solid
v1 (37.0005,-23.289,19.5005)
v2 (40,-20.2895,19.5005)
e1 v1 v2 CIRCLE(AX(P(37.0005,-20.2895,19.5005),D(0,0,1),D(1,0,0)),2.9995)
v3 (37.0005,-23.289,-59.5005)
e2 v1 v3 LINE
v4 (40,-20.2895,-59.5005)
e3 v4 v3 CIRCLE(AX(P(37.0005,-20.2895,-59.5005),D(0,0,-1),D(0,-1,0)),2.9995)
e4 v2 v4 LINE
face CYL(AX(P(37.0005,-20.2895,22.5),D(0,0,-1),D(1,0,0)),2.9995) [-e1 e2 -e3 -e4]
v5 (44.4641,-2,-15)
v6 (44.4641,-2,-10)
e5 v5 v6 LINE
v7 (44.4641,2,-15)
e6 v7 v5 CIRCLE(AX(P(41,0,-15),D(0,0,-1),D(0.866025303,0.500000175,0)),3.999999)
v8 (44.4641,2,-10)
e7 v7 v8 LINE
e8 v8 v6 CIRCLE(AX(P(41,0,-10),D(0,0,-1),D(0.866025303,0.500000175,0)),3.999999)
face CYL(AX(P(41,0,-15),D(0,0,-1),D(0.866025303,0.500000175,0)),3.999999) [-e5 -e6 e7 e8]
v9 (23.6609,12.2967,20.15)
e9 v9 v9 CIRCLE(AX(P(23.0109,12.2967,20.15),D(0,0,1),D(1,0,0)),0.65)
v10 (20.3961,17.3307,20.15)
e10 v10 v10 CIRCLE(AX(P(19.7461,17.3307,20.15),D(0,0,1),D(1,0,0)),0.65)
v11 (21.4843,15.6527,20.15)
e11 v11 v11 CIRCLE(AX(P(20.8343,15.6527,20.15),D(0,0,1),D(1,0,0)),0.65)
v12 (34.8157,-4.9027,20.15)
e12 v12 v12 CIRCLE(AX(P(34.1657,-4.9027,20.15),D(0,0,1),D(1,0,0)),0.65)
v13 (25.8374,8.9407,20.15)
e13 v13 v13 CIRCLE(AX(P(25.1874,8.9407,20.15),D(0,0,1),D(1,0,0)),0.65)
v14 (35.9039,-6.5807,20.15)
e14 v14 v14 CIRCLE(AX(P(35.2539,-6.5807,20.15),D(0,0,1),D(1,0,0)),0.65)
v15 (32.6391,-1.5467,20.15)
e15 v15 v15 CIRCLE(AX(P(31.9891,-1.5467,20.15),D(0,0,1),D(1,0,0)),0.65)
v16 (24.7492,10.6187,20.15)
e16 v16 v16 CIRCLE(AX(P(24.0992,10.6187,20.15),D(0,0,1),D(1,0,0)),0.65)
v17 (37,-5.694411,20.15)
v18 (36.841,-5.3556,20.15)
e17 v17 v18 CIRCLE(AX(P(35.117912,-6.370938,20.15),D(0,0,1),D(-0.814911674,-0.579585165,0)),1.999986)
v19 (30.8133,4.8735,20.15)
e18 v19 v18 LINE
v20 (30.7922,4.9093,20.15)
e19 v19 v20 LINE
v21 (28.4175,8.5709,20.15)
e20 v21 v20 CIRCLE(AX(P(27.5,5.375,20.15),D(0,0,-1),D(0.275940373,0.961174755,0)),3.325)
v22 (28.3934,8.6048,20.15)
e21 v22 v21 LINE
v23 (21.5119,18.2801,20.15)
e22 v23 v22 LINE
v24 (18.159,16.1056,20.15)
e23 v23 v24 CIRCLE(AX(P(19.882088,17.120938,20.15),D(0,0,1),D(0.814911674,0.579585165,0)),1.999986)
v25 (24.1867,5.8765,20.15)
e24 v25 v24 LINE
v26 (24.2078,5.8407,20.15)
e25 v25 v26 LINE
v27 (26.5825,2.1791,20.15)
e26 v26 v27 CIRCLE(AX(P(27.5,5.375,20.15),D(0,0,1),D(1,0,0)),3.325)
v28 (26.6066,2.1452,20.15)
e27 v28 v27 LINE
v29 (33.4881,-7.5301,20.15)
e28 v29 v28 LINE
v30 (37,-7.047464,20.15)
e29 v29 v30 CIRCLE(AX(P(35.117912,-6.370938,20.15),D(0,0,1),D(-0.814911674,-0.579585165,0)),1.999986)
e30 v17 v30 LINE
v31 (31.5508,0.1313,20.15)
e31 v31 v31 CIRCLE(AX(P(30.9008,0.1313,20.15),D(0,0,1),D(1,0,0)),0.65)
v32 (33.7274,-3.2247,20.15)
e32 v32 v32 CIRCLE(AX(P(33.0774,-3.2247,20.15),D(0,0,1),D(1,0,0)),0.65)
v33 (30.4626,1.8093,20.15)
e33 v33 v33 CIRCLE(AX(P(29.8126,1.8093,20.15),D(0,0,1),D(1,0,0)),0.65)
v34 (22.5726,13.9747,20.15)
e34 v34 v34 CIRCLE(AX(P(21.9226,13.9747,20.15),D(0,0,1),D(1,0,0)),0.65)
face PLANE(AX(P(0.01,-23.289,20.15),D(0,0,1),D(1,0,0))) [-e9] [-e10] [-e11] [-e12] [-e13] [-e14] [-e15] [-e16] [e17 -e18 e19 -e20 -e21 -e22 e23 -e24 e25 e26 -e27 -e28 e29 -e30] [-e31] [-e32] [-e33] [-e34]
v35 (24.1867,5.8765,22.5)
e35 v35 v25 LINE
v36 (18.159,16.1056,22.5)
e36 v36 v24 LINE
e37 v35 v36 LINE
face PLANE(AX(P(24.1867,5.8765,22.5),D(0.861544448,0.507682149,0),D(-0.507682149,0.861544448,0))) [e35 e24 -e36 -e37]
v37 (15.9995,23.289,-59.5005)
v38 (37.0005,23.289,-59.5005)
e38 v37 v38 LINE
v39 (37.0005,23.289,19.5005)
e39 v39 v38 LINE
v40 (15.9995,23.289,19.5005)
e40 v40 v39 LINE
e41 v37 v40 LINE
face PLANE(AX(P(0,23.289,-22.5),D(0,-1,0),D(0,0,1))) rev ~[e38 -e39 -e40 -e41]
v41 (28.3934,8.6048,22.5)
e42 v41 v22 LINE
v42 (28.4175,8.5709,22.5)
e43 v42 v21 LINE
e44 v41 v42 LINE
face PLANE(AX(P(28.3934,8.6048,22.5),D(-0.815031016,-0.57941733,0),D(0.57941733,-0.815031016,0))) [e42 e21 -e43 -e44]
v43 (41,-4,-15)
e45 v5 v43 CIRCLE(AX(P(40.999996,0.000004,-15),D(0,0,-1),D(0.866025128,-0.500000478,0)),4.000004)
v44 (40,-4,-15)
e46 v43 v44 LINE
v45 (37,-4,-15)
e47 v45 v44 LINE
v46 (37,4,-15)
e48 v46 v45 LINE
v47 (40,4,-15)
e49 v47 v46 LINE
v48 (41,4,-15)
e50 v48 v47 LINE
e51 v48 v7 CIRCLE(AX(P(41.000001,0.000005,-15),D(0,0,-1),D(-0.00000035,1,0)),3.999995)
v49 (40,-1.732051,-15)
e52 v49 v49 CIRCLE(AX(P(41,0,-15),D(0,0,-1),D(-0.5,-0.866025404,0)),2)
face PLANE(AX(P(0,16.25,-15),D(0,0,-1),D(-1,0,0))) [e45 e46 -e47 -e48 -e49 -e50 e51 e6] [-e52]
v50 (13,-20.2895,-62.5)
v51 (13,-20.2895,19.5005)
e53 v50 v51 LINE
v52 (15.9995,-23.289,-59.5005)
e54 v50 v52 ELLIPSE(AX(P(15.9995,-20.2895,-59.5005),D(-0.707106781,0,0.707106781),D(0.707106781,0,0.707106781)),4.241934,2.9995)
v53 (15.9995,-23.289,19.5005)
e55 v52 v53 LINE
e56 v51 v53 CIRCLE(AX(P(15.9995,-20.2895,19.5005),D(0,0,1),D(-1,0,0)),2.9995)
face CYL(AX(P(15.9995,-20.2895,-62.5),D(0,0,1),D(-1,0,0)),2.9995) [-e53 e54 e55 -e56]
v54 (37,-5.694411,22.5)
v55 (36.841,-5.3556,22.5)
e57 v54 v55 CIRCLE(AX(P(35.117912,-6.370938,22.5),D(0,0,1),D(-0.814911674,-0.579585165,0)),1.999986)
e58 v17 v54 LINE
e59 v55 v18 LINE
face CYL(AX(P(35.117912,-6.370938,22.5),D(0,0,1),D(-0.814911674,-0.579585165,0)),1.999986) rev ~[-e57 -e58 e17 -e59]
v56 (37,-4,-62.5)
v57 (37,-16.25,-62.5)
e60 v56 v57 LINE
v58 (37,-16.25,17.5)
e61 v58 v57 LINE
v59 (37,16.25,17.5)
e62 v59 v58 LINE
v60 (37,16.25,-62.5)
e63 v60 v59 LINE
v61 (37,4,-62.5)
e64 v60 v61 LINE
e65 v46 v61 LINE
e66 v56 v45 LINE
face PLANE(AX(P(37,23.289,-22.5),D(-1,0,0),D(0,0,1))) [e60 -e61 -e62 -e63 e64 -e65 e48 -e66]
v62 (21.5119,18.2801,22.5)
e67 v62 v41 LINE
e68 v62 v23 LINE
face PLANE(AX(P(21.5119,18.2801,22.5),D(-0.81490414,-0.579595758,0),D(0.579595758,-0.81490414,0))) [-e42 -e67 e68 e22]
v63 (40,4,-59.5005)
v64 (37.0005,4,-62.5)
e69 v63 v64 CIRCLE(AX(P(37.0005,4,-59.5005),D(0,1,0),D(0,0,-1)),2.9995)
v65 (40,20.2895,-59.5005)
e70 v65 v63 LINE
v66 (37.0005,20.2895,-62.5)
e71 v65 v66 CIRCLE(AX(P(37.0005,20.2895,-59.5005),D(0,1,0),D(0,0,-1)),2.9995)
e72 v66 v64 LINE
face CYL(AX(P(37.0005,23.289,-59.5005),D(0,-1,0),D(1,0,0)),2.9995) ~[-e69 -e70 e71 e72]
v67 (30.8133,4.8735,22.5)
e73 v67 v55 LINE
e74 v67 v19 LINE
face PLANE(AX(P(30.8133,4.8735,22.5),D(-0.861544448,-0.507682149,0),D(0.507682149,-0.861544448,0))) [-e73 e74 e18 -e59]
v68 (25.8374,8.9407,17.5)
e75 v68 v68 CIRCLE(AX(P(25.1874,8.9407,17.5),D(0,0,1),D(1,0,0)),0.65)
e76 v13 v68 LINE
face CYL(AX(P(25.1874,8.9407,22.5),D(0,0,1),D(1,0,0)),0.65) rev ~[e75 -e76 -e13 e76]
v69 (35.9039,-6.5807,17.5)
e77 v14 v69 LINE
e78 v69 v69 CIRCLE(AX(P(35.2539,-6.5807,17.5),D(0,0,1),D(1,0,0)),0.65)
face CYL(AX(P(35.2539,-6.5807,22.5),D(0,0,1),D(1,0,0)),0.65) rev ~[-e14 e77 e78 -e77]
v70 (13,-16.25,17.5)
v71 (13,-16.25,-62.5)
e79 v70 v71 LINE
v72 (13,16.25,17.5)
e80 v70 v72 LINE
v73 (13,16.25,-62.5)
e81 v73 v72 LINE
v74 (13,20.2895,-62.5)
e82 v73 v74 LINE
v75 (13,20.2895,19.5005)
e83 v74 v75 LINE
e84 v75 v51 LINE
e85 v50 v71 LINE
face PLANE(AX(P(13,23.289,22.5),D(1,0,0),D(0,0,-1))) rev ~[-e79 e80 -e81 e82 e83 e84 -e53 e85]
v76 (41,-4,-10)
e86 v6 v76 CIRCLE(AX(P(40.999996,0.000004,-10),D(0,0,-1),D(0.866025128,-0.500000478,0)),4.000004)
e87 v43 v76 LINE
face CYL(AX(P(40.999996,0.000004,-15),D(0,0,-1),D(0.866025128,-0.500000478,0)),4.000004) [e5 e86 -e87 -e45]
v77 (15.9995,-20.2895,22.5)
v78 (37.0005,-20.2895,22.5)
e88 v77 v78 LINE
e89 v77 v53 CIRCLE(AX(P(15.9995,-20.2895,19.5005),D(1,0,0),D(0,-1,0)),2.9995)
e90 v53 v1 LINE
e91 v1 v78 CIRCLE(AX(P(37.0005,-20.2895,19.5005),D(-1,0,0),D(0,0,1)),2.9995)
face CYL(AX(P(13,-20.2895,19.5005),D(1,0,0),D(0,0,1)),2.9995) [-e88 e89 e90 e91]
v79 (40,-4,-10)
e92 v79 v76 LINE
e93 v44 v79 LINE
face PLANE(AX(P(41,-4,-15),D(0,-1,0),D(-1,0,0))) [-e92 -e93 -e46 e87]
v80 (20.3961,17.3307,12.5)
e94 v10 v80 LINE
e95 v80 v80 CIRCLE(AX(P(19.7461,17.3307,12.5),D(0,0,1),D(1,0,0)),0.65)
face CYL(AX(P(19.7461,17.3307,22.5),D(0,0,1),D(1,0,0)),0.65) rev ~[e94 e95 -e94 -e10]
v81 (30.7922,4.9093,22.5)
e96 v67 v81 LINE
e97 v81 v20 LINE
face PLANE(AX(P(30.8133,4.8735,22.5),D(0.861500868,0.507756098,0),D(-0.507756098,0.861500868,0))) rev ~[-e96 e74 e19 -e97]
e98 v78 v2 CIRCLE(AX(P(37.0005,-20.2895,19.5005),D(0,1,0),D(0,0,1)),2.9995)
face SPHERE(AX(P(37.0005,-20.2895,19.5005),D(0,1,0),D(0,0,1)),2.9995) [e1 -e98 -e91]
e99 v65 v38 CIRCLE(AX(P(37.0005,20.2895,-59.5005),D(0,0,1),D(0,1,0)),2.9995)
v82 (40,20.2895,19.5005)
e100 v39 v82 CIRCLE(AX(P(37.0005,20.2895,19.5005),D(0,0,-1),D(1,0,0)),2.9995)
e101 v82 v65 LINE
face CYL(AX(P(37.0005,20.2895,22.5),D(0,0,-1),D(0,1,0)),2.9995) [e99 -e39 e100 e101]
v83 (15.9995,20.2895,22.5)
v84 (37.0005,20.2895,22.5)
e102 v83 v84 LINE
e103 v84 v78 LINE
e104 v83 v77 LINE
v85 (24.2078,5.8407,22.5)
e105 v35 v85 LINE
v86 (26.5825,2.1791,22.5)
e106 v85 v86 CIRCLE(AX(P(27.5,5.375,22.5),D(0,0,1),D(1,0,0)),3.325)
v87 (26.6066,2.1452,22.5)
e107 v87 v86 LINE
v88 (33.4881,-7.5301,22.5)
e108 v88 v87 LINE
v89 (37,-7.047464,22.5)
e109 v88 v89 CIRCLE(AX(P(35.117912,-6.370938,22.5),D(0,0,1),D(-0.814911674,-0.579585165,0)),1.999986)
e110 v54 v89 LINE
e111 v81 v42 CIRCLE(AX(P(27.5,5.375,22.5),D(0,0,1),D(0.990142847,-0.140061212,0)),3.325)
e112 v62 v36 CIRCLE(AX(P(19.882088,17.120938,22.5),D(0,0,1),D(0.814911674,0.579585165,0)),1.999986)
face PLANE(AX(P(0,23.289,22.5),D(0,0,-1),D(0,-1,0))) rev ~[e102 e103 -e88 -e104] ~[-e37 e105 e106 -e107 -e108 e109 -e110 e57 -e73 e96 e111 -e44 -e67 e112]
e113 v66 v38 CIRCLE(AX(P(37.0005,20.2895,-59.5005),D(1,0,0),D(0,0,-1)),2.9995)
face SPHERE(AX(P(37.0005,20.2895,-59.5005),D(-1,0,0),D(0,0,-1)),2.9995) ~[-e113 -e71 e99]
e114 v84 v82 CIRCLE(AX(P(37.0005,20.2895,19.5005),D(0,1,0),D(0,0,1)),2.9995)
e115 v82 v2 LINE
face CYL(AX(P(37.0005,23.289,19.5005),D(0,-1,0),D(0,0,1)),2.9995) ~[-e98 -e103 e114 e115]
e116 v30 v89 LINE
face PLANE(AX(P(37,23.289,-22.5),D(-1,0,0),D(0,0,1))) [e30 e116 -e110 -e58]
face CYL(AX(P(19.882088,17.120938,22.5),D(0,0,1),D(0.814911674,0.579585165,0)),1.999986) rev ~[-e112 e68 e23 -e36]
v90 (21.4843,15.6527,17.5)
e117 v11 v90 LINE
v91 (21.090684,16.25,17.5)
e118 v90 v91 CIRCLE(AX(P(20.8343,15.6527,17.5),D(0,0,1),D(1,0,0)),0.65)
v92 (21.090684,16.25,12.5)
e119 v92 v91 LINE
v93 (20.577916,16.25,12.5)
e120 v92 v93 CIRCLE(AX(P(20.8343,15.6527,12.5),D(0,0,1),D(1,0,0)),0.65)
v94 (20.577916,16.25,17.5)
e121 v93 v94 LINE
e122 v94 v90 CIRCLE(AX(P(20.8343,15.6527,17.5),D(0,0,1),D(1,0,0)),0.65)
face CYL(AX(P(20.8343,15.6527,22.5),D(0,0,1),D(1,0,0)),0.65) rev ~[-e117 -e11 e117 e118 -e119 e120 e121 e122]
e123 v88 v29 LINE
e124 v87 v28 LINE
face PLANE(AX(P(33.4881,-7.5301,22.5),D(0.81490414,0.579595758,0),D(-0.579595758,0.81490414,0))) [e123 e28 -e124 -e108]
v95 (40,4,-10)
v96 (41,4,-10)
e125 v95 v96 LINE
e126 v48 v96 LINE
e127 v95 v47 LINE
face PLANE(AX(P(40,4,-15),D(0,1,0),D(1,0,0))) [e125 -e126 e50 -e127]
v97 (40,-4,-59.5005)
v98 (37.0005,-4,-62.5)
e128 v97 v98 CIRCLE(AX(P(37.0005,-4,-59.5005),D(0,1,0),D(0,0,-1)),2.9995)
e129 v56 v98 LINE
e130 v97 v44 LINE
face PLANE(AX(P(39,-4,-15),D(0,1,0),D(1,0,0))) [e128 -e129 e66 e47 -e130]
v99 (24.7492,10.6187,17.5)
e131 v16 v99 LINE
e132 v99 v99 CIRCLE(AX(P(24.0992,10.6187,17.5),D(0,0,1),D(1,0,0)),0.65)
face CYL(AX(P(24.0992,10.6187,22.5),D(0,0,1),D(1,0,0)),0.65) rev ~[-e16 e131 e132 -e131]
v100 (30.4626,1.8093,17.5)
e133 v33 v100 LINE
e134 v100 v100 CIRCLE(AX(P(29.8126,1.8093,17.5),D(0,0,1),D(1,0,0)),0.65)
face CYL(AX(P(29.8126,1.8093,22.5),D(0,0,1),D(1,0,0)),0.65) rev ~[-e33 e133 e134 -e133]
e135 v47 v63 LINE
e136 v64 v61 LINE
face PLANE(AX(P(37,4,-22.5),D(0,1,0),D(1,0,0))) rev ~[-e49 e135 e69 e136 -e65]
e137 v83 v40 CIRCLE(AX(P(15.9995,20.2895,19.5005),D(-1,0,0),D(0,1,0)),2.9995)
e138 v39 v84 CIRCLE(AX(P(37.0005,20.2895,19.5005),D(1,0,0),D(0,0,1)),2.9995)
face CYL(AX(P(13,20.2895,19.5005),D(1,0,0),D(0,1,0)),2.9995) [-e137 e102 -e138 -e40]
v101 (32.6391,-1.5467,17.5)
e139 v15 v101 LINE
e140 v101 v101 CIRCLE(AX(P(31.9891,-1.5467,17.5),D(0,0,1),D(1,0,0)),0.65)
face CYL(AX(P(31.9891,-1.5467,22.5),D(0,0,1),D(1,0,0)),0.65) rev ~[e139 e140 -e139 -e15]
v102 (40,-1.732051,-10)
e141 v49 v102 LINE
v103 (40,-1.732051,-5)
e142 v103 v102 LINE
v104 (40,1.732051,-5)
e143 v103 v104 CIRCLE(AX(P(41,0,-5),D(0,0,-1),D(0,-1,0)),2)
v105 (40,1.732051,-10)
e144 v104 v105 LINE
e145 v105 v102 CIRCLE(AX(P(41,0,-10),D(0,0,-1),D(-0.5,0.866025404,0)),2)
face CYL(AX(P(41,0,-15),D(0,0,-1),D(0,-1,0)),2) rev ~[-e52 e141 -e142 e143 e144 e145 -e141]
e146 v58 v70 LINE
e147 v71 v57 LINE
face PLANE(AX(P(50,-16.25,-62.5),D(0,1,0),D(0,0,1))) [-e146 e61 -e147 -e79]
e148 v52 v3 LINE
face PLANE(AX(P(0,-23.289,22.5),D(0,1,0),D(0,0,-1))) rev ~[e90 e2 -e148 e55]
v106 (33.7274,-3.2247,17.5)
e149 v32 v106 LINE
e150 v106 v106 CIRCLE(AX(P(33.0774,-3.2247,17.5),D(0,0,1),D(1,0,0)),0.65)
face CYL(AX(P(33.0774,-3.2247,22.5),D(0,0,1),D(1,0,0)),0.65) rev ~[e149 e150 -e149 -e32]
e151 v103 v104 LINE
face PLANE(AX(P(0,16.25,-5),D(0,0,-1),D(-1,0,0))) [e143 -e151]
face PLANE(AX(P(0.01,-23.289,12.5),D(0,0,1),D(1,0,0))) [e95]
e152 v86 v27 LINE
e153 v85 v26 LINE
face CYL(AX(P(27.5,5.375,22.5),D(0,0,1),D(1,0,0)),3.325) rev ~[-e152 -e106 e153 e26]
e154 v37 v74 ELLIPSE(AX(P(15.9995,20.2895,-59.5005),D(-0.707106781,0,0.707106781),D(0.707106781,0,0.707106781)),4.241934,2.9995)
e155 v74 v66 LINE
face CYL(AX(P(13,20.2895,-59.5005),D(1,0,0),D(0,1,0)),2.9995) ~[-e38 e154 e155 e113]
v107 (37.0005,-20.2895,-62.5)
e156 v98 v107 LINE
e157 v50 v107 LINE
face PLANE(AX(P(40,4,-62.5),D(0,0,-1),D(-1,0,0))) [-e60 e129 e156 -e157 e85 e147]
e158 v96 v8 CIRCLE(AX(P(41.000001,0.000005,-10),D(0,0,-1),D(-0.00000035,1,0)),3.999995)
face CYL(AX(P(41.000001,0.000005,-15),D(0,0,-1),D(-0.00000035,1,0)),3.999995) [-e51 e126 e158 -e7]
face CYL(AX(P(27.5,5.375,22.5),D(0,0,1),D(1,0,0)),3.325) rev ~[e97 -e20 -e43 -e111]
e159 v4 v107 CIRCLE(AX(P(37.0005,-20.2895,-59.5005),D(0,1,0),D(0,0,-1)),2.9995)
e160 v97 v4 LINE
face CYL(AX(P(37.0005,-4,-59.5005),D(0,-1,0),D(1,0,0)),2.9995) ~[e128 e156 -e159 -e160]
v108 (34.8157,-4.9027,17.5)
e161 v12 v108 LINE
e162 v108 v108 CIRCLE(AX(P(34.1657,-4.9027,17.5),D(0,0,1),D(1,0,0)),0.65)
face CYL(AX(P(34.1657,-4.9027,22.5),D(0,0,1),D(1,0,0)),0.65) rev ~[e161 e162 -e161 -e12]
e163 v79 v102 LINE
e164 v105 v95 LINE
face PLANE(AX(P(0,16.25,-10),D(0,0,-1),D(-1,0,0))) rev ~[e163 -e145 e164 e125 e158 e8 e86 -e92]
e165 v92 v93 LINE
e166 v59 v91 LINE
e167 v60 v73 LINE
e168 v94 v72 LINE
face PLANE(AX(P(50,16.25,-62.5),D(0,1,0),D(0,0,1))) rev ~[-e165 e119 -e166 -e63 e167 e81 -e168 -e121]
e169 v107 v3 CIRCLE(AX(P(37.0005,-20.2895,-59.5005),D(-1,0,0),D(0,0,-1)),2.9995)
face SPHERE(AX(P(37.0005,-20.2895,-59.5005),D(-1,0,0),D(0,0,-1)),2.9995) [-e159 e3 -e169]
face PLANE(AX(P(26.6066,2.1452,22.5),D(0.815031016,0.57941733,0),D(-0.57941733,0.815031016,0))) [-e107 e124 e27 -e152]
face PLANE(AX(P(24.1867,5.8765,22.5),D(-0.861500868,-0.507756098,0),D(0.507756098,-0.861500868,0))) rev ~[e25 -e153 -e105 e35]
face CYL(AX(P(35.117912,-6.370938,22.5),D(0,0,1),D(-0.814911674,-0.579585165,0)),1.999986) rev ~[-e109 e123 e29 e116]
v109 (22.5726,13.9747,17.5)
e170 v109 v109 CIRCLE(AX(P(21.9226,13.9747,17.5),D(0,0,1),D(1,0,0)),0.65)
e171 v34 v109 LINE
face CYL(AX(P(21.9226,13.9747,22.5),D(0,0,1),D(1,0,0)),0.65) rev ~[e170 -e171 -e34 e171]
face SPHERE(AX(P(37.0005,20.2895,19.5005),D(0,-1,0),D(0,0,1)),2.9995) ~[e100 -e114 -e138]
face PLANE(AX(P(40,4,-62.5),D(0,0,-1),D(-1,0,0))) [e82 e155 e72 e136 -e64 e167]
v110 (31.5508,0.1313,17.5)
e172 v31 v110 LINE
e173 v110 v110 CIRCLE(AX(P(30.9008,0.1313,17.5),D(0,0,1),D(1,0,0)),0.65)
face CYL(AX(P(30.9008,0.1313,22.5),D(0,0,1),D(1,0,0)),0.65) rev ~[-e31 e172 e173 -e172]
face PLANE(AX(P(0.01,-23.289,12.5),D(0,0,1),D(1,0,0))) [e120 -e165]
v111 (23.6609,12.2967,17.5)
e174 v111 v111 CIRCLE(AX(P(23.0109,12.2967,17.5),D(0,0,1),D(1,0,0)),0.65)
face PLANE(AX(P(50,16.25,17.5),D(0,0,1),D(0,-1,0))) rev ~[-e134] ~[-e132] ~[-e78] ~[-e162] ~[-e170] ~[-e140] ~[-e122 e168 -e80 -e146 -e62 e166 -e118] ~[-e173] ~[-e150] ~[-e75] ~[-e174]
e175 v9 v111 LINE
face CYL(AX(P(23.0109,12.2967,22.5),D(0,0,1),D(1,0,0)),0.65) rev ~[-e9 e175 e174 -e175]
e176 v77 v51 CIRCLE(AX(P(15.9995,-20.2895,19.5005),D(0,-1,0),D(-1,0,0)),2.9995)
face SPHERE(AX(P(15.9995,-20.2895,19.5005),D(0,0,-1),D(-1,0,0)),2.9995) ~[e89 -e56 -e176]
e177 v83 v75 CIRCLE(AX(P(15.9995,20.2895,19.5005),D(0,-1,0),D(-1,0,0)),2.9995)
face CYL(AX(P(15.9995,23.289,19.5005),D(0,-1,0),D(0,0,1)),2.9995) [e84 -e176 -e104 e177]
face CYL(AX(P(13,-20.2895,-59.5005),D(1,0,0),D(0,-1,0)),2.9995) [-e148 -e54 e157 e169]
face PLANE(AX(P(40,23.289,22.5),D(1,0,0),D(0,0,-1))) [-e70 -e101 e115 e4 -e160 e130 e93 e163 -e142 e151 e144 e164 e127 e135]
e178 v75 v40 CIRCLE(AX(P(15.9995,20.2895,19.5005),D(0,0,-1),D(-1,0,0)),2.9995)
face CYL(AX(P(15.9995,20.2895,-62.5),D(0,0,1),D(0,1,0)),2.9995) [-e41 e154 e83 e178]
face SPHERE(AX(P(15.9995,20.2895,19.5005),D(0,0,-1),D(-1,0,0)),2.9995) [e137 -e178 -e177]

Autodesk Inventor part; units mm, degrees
ref_plane "YZ Plane" through (0, 0, 0) normal (1, 0, 0) x (0, 1, 0)
ref_plane "XZ Plane" through (0, 0, 0) normal (0, 1, 0) x (-1, 0, 0)
sketch "Sketch1" plane through (0, 0, 0) normal (1, 0, 0) x (0, 1, 0)
  line L0 (23.289, 22.5) -> (-23.289, 22.5)
  line L1 (-23.289, 22.5) -> (-23.289, -22.5)
  line L2 (-23.289, -22.5) -> (23.289, -22.5)
  line L3 (23.289, -22.5) -> (23.289, 22.5)
  line L4 (23.289, 22.5) -> (-23.289, -22.5) construction
  line L5 (-23.289, 22.5) -> (23.289, -22.5) construction
  point P0 (0, 0)
  dimension "d0" = 45
  dimension "d1" = 46.578
extrude "Extrusion1" add sketch "Sketch1" along normal blind 50
fillet "Fillet1" radius 0.01 2 edges at (50, 0, 22.5) (0, 0, 22.5)
sketch "Sketch2" plane through (0.01, -23.289, 22.5) normal (0, 0, 1) x (1, 0, 0)
  arc A0 (21.5019, 41.5691) -> (18.149, 39.3946) centre (19.8721, 40.41) ccw projected
  line L0 (24.1767, 29.1655) -> (18.149, 39.3946) projected
  circle A1 centre (19.7361, 40.6197) radius 0.65 projected
  circle A2 centre (20.8243, 38.9417) radius 0.65 projected
  line L1 (21.5019, 41.5691) -> (28.3834, 31.8938) projected
  circle A3 centre (21.9126, 37.2637) radius 0.65 projected
  circle A4 centre (23.0009, 35.5857) radius 0.65 projected
  circle A5 centre (24.0892, 33.9077) radius 0.65 projected
  circle A6 centre (25.1774, 32.2297) radius 0.65 projected
  circle A7 centre (29.8026, 25.0983) radius 0.65 projected
  circle A8 centre (27.49, 28.664) radius 3.325 projected
  line L2 (33.4781, 15.7589) -> (26.5966, 25.4342) projected
  arc A9 (33.4781, 15.7589) -> (36.831, 17.9334) centre (35.1079, 16.918) ccw projected
  line L3 (30.8033, 28.1625) -> (36.831, 17.9334) projected
  circle A10 centre (30.8908, 23.4203) radius 0.65 projected
  circle A11 centre (31.9791, 21.7423) radius 0.65 projected
  circle A12 centre (33.0674, 20.0643) radius 0.65 projected
  circle A13 centre (34.1557, 18.3863) radius 0.65 projected
  circle A14 centre (35.2439, 16.7083) radius 0.65 projected
  line L4 (24.1767, 29.1655) -> (24.1978, 29.1297)
  line L5 (30.8033, 28.1625) -> (30.7822, 28.1983)
  line L6 (26.5966, 25.4342) -> (26.5725, 25.4681)
  line L7 (28.3834, 31.8938) -> (28.4075, 31.8599)
  point P0 (-0.01, 23.289)
extrude "Extrusion2" cut sketch "Sketch2" against normal blind 2.35 contours L1 L7 A8 L4 L0 A0 | A8 | A8 L5 L3 A9 L2 L6 | A1 | A2 | A3 | A4 | A5 | A6 | A7 | A10 | A11 | A12 | A13 | A14
sketch "Sketch3" plane through (0.01, -23.289, 22.5) normal (0, 0, 1) x (1, 0, 0)
  circle A0 centre (20.8243, 38.9417) radius 0.65 projected
  circle A1 centre (19.7361, 40.6197) radius 0.65 projected
  circle A2 centre (21.9126, 37.2637) radius 0.65 projected
  circle A3 centre (23.0009, 35.5857) radius 0.65 projected
  circle A4 centre (24.0892, 33.9077) radius 0.65 projected
  circle A5 centre (25.1774, 32.2297) radius 0.65 projected
  circle A6 centre (29.8026, 25.0983) radius 0.65 projected
  circle A7 centre (30.8908, 23.4203) radius 0.65 projected
  circle A8 centre (31.9791, 21.7423) radius 0.65 projected
  circle A9 centre (33.0674, 20.0643) radius 0.65 projected
  circle A10 centre (34.1557, 18.3863) radius 0.65 projected
  circle A11 centre (35.2439, 16.7083) radius 0.65 projected
  point P0 (-0.01, 23.289)
extrude "Extrusion3" cut sketch "Sketch3" against normal blind 10
sketch "Sketch4" plane through (50, 0, 0) normal (1, 0, 0) x (0, 0, -1)
  line L0 (30, 4) -> (30, -4) projected
  line L1 (30, -4) -> (15, -4) projected
  line L2 (15, -4) -> (15, 4) projected
  line L3 (15, 4) -> (30, 4) projected
  line L4 (62.5, 16.25) -> (-17.5, 16.25) projected
  line L5 (62.5, -16.25) -> (-17.5, -16.25) projected
  line L6 (-17.5, 16.25) -> (-17.5, -16.25) projected
  line L7 (62.5, 16.25) -> (62.5, -16.25) projected
  point P0 (0, 0)
extrude "Extrusion4" cut sketch "Sketch4" against normal through all contours L0 L1 L2 L3 | L7 L5 L6 L4
sketch "Sketch5" plane through (0, 23.289, -22.5) normal (0, 1, 0) x (1, 0, 0)
  line L0 (0, 0) -> (50, 0) projected
  line L1 (50, 0) -> (45, 0)
  line L2 (45, 0) -> (45, -48.3734)
  line L3 (45, -48.3734) -> (50, -48.3734)
  line L4 (50, -48.3734) -> (50, 0)
  point P0 (0, -22.5)
  point P1 (45, 0)
  dimension "d11" = 5
extrude "Extrusion5" cut sketch "Sketch5" against normal through all
sketch "Sketch6" plane through (0, 23.289, 22.49) normal (0, 1, 0) x (1, 0, 0)
  line L0 (45, 4.99) -> (45, 44.99) projected
  line L1 (45, 44.99) -> (37, 44.99)
  line L2 (37, 44.99) -> (37, -0.01)
  line L3 (37, -0.01) -> (45, -0.01)
  line L4 (45, -0.01) -> (45, 44.99)
  line L5 (0.01, -0.01) -> (45, -0.01) projected
  point P0 (0, 22.49)
  point P1 (45, 9.99)
  point P2 (41, -0.01)
  point P3 (45, 9.99)
  dimension "d14" = 0
  dimension "d15" = 8
extrude "Extrusion6" add sketch "Sketch6" against normal up to surface (39.539 mm away)
sketch "Sketch7" plane through (0, -23.289, -22.5) normal (0, 0, -1) x (-1, 0, 0)
  line L0 (-41, 21.289) -> (-44.4641, 21.289) projected
  arc A0 (-44.4641, 21.289) -> (-41, 19.289) centre (-41, 23.289) ccw projected
  line L1 (-41, 19.289) -> (-37, 19.289) projected
  line L2 (-37, 27.289) -> (-37, 19.289) projected
  line L3 (-37, 27.289) -> (-41, 27.289) projected
  arc A1 (-41, 27.289) -> (-44.4641, 25.289) centre (-41, 23.289) ccw projected
  line L4 (-44.4641, 25.289) -> (-41, 25.289) projected
  arc A2 (-41, 21.289) -> (-41, 25.289) centre (-41, 23.289) ccw projected
  arc A3 (-44.4641, 25.289) -> (-44.4641, 21.289) centre (-41, 23.289) ccw projected
  arc A4 (-41, 25.289) -> (-41, 21.289) centre (-41, 23.289) ccw projected
  arc A5 (-41, 25.289) -> (-41, 21.289) centre (-41, 23.289) ccw projected
  line L5 (-44.4641, 25.289) -> (-41, 25.289) projected
  arc A6 (-44.4641, 25.289) -> (-44.4641, 21.289) centre (-41, 23.289) ccw projected
  line L6 (-41, 21.289) -> (-44.4641, 21.289) projected
  point P0 (0, 23.289)
sketch "Sketch8" plane through (0, 23.289, 22.49) normal (0, 1, 0) x (1, 0, 0)
  line L0 (0.01, -0.01) -> (45, -0.01) projected
  line L1 (45, -0.01) -> (40, -0.01)
  line L2 (40, -0.01) -> (40, 55.178)
  line L3 (40, 55.178) -> (45, 55.178)
  line L4 (45, 55.178) -> (45, -0.01)
  point P0 (0, 22.49)
  point P1 (40, -0.01)
  dimension "d18" = 5
extrude "Extrusion7" cut sketch "Sketch8" against normal through all
extrude "Extrusion8" cut sketch "Sketch7" against normal blind 7.5
ref_plane "Work Plane1" through (0, 16.25, -15) normal (0, 0, -1) x (-1, 0, 0)
sketch "Sketch9" plane through (0, 16.25, -15) normal (0, 0, -1) x (-1, 0, 0)
  arc A0 (-41, -12.25) -> (-44.4641, -14.25) centre (-41, -16.25) ccw projected
  line L0 (-37, -12.25) -> (-41, -12.25) projected
  line L1 (-37, -12.25) -> (-37, -20.25) projected
  arc A1 (-41, -18.25) -> (-41, -14.25) centre (-41, -16.25) ccw projected
  arc A2 (-41, -14.25) -> (-41, -18.25) centre (-41, -16.25) ccw projected
  line L2 (-41, -18.25) -> (-44.4641, -18.25) projected
  line L3 (-44.4641, -14.25) -> (-41, -14.25) projected
  arc A3 (-44.4641, -14.25) -> (-44.4641, -18.25) centre (-41, -16.25) ccw projected
  arc A4 (-44.4641, -18.25) -> (-41, -20.25) centre (-41, -16.25) ccw projected
  line L4 (-37, -20.25) -> (-40, -20.25) projected
  line L5 (-41, -20.25) -> (-37, -20.25) projected
  line L6 (-40, -12.25) -> (-40, -20.25)
  line L7 (-40, -39.539) -> (-40, 7.039) projected
  line L8 (-39, -12.25) -> (-39, -20.25)
  point P0 (0, -16.25)
  point P1 (-39, -20.25)
  point P2 (-39, -16.25)
extrude "Extrusion9" cut sketch "Sketch9" against normal blind 5 contours L0 L6 A1 L3 A0 | L3 A2 L2 A3 | L0 L8 A1 L6 | A1 L6 A2 | L2 A1 L6 L5 A4 | A1 L6 | L8 L4 L6 A1
extrude "Extrusion10" add sketch "Sketch9" against normal blind 5 contours L0 L6 A1 L3 A0 | L3 A2 L2 A3 | L0 L8 A1 L6 | L2 A1 L6 L5 A4 | L8 L4 L6 A1
extrude "Extrusion11" cut sketch "Sketch9" against normal blind 10 contours A1 L6 A2 | A1 L6
sketch "Sketch10" plane through (0, 23.289, 22.49) normal (0, 1, 0) x (1, 0, 0)
  line L0 (0, -0.01) -> (13, -0.01)
  line L1 (13, -0.01) -> (13, 49.0312)
  line L2 (13, 49.0312) -> (0, 49.0312)
  line L3 (0, 49.0312) -> (0, -0.01)
  line L4 (0, 44.99) -> (0, 0) projected
  line L5 (0.01, -0.01) -> (40, -0.01) projected
  point P0 (0, 22.49)
  dimension "d30" = 0
  dimension "d31" = 13
  dimension "d32" = 0
extrude "Extrusion12" cut sketch "Sketch10" against normal through all
sketch "Sketch11" plane through (40, 4, -22.5) normal (0, 0, -1) x (-1, 0, 0)
  line L0 (27, 12.25) -> (27, 19.289) projected
  line L1 (27, 19.289) -> (0, 19.289) projected
  line L2 (0, 19.289) -> (0, 0) projected
  line L3 (0, 0) -> (3, 0) projected
  line L4 (3, 12.25) -> (3, 0) projected
  line L5 (3, 12.25) -> (27, 12.25) projected
  line L6 (27, -27.289) -> (27, -20.25) projected
  line L7 (27, -20.25) -> (3, -20.25) projected
  line L8 (3, -8) -> (3, -20.25) projected
  line L9 (3, -8) -> (0, -8) projected
  line L10 (0, -8) -> (0, -27.289) projected
  line L11 (27, -27.289) -> (0, -27.289) projected
  point P0 (40, -4)
extrude "Extrusion13" add sketch "Sketch11" along normal blind 40
fillet "Fillet2" radius 3 12 edges at (26.5, 23.289, -62.5) (40, 13.6445, -62.5) (13, 23.289, -20) (13, -23.289, -20) (26.5, -23.289, -62.5) (40, -13.6445, -62.5) (13, 0, 22.5) (40, 0, 22.5) (26.5, -23.289, 22.5) (26.5, 23.289, 22.5) (40, 23.289, -20) (40, -23.289, -20)
properties part number "New End effector"
